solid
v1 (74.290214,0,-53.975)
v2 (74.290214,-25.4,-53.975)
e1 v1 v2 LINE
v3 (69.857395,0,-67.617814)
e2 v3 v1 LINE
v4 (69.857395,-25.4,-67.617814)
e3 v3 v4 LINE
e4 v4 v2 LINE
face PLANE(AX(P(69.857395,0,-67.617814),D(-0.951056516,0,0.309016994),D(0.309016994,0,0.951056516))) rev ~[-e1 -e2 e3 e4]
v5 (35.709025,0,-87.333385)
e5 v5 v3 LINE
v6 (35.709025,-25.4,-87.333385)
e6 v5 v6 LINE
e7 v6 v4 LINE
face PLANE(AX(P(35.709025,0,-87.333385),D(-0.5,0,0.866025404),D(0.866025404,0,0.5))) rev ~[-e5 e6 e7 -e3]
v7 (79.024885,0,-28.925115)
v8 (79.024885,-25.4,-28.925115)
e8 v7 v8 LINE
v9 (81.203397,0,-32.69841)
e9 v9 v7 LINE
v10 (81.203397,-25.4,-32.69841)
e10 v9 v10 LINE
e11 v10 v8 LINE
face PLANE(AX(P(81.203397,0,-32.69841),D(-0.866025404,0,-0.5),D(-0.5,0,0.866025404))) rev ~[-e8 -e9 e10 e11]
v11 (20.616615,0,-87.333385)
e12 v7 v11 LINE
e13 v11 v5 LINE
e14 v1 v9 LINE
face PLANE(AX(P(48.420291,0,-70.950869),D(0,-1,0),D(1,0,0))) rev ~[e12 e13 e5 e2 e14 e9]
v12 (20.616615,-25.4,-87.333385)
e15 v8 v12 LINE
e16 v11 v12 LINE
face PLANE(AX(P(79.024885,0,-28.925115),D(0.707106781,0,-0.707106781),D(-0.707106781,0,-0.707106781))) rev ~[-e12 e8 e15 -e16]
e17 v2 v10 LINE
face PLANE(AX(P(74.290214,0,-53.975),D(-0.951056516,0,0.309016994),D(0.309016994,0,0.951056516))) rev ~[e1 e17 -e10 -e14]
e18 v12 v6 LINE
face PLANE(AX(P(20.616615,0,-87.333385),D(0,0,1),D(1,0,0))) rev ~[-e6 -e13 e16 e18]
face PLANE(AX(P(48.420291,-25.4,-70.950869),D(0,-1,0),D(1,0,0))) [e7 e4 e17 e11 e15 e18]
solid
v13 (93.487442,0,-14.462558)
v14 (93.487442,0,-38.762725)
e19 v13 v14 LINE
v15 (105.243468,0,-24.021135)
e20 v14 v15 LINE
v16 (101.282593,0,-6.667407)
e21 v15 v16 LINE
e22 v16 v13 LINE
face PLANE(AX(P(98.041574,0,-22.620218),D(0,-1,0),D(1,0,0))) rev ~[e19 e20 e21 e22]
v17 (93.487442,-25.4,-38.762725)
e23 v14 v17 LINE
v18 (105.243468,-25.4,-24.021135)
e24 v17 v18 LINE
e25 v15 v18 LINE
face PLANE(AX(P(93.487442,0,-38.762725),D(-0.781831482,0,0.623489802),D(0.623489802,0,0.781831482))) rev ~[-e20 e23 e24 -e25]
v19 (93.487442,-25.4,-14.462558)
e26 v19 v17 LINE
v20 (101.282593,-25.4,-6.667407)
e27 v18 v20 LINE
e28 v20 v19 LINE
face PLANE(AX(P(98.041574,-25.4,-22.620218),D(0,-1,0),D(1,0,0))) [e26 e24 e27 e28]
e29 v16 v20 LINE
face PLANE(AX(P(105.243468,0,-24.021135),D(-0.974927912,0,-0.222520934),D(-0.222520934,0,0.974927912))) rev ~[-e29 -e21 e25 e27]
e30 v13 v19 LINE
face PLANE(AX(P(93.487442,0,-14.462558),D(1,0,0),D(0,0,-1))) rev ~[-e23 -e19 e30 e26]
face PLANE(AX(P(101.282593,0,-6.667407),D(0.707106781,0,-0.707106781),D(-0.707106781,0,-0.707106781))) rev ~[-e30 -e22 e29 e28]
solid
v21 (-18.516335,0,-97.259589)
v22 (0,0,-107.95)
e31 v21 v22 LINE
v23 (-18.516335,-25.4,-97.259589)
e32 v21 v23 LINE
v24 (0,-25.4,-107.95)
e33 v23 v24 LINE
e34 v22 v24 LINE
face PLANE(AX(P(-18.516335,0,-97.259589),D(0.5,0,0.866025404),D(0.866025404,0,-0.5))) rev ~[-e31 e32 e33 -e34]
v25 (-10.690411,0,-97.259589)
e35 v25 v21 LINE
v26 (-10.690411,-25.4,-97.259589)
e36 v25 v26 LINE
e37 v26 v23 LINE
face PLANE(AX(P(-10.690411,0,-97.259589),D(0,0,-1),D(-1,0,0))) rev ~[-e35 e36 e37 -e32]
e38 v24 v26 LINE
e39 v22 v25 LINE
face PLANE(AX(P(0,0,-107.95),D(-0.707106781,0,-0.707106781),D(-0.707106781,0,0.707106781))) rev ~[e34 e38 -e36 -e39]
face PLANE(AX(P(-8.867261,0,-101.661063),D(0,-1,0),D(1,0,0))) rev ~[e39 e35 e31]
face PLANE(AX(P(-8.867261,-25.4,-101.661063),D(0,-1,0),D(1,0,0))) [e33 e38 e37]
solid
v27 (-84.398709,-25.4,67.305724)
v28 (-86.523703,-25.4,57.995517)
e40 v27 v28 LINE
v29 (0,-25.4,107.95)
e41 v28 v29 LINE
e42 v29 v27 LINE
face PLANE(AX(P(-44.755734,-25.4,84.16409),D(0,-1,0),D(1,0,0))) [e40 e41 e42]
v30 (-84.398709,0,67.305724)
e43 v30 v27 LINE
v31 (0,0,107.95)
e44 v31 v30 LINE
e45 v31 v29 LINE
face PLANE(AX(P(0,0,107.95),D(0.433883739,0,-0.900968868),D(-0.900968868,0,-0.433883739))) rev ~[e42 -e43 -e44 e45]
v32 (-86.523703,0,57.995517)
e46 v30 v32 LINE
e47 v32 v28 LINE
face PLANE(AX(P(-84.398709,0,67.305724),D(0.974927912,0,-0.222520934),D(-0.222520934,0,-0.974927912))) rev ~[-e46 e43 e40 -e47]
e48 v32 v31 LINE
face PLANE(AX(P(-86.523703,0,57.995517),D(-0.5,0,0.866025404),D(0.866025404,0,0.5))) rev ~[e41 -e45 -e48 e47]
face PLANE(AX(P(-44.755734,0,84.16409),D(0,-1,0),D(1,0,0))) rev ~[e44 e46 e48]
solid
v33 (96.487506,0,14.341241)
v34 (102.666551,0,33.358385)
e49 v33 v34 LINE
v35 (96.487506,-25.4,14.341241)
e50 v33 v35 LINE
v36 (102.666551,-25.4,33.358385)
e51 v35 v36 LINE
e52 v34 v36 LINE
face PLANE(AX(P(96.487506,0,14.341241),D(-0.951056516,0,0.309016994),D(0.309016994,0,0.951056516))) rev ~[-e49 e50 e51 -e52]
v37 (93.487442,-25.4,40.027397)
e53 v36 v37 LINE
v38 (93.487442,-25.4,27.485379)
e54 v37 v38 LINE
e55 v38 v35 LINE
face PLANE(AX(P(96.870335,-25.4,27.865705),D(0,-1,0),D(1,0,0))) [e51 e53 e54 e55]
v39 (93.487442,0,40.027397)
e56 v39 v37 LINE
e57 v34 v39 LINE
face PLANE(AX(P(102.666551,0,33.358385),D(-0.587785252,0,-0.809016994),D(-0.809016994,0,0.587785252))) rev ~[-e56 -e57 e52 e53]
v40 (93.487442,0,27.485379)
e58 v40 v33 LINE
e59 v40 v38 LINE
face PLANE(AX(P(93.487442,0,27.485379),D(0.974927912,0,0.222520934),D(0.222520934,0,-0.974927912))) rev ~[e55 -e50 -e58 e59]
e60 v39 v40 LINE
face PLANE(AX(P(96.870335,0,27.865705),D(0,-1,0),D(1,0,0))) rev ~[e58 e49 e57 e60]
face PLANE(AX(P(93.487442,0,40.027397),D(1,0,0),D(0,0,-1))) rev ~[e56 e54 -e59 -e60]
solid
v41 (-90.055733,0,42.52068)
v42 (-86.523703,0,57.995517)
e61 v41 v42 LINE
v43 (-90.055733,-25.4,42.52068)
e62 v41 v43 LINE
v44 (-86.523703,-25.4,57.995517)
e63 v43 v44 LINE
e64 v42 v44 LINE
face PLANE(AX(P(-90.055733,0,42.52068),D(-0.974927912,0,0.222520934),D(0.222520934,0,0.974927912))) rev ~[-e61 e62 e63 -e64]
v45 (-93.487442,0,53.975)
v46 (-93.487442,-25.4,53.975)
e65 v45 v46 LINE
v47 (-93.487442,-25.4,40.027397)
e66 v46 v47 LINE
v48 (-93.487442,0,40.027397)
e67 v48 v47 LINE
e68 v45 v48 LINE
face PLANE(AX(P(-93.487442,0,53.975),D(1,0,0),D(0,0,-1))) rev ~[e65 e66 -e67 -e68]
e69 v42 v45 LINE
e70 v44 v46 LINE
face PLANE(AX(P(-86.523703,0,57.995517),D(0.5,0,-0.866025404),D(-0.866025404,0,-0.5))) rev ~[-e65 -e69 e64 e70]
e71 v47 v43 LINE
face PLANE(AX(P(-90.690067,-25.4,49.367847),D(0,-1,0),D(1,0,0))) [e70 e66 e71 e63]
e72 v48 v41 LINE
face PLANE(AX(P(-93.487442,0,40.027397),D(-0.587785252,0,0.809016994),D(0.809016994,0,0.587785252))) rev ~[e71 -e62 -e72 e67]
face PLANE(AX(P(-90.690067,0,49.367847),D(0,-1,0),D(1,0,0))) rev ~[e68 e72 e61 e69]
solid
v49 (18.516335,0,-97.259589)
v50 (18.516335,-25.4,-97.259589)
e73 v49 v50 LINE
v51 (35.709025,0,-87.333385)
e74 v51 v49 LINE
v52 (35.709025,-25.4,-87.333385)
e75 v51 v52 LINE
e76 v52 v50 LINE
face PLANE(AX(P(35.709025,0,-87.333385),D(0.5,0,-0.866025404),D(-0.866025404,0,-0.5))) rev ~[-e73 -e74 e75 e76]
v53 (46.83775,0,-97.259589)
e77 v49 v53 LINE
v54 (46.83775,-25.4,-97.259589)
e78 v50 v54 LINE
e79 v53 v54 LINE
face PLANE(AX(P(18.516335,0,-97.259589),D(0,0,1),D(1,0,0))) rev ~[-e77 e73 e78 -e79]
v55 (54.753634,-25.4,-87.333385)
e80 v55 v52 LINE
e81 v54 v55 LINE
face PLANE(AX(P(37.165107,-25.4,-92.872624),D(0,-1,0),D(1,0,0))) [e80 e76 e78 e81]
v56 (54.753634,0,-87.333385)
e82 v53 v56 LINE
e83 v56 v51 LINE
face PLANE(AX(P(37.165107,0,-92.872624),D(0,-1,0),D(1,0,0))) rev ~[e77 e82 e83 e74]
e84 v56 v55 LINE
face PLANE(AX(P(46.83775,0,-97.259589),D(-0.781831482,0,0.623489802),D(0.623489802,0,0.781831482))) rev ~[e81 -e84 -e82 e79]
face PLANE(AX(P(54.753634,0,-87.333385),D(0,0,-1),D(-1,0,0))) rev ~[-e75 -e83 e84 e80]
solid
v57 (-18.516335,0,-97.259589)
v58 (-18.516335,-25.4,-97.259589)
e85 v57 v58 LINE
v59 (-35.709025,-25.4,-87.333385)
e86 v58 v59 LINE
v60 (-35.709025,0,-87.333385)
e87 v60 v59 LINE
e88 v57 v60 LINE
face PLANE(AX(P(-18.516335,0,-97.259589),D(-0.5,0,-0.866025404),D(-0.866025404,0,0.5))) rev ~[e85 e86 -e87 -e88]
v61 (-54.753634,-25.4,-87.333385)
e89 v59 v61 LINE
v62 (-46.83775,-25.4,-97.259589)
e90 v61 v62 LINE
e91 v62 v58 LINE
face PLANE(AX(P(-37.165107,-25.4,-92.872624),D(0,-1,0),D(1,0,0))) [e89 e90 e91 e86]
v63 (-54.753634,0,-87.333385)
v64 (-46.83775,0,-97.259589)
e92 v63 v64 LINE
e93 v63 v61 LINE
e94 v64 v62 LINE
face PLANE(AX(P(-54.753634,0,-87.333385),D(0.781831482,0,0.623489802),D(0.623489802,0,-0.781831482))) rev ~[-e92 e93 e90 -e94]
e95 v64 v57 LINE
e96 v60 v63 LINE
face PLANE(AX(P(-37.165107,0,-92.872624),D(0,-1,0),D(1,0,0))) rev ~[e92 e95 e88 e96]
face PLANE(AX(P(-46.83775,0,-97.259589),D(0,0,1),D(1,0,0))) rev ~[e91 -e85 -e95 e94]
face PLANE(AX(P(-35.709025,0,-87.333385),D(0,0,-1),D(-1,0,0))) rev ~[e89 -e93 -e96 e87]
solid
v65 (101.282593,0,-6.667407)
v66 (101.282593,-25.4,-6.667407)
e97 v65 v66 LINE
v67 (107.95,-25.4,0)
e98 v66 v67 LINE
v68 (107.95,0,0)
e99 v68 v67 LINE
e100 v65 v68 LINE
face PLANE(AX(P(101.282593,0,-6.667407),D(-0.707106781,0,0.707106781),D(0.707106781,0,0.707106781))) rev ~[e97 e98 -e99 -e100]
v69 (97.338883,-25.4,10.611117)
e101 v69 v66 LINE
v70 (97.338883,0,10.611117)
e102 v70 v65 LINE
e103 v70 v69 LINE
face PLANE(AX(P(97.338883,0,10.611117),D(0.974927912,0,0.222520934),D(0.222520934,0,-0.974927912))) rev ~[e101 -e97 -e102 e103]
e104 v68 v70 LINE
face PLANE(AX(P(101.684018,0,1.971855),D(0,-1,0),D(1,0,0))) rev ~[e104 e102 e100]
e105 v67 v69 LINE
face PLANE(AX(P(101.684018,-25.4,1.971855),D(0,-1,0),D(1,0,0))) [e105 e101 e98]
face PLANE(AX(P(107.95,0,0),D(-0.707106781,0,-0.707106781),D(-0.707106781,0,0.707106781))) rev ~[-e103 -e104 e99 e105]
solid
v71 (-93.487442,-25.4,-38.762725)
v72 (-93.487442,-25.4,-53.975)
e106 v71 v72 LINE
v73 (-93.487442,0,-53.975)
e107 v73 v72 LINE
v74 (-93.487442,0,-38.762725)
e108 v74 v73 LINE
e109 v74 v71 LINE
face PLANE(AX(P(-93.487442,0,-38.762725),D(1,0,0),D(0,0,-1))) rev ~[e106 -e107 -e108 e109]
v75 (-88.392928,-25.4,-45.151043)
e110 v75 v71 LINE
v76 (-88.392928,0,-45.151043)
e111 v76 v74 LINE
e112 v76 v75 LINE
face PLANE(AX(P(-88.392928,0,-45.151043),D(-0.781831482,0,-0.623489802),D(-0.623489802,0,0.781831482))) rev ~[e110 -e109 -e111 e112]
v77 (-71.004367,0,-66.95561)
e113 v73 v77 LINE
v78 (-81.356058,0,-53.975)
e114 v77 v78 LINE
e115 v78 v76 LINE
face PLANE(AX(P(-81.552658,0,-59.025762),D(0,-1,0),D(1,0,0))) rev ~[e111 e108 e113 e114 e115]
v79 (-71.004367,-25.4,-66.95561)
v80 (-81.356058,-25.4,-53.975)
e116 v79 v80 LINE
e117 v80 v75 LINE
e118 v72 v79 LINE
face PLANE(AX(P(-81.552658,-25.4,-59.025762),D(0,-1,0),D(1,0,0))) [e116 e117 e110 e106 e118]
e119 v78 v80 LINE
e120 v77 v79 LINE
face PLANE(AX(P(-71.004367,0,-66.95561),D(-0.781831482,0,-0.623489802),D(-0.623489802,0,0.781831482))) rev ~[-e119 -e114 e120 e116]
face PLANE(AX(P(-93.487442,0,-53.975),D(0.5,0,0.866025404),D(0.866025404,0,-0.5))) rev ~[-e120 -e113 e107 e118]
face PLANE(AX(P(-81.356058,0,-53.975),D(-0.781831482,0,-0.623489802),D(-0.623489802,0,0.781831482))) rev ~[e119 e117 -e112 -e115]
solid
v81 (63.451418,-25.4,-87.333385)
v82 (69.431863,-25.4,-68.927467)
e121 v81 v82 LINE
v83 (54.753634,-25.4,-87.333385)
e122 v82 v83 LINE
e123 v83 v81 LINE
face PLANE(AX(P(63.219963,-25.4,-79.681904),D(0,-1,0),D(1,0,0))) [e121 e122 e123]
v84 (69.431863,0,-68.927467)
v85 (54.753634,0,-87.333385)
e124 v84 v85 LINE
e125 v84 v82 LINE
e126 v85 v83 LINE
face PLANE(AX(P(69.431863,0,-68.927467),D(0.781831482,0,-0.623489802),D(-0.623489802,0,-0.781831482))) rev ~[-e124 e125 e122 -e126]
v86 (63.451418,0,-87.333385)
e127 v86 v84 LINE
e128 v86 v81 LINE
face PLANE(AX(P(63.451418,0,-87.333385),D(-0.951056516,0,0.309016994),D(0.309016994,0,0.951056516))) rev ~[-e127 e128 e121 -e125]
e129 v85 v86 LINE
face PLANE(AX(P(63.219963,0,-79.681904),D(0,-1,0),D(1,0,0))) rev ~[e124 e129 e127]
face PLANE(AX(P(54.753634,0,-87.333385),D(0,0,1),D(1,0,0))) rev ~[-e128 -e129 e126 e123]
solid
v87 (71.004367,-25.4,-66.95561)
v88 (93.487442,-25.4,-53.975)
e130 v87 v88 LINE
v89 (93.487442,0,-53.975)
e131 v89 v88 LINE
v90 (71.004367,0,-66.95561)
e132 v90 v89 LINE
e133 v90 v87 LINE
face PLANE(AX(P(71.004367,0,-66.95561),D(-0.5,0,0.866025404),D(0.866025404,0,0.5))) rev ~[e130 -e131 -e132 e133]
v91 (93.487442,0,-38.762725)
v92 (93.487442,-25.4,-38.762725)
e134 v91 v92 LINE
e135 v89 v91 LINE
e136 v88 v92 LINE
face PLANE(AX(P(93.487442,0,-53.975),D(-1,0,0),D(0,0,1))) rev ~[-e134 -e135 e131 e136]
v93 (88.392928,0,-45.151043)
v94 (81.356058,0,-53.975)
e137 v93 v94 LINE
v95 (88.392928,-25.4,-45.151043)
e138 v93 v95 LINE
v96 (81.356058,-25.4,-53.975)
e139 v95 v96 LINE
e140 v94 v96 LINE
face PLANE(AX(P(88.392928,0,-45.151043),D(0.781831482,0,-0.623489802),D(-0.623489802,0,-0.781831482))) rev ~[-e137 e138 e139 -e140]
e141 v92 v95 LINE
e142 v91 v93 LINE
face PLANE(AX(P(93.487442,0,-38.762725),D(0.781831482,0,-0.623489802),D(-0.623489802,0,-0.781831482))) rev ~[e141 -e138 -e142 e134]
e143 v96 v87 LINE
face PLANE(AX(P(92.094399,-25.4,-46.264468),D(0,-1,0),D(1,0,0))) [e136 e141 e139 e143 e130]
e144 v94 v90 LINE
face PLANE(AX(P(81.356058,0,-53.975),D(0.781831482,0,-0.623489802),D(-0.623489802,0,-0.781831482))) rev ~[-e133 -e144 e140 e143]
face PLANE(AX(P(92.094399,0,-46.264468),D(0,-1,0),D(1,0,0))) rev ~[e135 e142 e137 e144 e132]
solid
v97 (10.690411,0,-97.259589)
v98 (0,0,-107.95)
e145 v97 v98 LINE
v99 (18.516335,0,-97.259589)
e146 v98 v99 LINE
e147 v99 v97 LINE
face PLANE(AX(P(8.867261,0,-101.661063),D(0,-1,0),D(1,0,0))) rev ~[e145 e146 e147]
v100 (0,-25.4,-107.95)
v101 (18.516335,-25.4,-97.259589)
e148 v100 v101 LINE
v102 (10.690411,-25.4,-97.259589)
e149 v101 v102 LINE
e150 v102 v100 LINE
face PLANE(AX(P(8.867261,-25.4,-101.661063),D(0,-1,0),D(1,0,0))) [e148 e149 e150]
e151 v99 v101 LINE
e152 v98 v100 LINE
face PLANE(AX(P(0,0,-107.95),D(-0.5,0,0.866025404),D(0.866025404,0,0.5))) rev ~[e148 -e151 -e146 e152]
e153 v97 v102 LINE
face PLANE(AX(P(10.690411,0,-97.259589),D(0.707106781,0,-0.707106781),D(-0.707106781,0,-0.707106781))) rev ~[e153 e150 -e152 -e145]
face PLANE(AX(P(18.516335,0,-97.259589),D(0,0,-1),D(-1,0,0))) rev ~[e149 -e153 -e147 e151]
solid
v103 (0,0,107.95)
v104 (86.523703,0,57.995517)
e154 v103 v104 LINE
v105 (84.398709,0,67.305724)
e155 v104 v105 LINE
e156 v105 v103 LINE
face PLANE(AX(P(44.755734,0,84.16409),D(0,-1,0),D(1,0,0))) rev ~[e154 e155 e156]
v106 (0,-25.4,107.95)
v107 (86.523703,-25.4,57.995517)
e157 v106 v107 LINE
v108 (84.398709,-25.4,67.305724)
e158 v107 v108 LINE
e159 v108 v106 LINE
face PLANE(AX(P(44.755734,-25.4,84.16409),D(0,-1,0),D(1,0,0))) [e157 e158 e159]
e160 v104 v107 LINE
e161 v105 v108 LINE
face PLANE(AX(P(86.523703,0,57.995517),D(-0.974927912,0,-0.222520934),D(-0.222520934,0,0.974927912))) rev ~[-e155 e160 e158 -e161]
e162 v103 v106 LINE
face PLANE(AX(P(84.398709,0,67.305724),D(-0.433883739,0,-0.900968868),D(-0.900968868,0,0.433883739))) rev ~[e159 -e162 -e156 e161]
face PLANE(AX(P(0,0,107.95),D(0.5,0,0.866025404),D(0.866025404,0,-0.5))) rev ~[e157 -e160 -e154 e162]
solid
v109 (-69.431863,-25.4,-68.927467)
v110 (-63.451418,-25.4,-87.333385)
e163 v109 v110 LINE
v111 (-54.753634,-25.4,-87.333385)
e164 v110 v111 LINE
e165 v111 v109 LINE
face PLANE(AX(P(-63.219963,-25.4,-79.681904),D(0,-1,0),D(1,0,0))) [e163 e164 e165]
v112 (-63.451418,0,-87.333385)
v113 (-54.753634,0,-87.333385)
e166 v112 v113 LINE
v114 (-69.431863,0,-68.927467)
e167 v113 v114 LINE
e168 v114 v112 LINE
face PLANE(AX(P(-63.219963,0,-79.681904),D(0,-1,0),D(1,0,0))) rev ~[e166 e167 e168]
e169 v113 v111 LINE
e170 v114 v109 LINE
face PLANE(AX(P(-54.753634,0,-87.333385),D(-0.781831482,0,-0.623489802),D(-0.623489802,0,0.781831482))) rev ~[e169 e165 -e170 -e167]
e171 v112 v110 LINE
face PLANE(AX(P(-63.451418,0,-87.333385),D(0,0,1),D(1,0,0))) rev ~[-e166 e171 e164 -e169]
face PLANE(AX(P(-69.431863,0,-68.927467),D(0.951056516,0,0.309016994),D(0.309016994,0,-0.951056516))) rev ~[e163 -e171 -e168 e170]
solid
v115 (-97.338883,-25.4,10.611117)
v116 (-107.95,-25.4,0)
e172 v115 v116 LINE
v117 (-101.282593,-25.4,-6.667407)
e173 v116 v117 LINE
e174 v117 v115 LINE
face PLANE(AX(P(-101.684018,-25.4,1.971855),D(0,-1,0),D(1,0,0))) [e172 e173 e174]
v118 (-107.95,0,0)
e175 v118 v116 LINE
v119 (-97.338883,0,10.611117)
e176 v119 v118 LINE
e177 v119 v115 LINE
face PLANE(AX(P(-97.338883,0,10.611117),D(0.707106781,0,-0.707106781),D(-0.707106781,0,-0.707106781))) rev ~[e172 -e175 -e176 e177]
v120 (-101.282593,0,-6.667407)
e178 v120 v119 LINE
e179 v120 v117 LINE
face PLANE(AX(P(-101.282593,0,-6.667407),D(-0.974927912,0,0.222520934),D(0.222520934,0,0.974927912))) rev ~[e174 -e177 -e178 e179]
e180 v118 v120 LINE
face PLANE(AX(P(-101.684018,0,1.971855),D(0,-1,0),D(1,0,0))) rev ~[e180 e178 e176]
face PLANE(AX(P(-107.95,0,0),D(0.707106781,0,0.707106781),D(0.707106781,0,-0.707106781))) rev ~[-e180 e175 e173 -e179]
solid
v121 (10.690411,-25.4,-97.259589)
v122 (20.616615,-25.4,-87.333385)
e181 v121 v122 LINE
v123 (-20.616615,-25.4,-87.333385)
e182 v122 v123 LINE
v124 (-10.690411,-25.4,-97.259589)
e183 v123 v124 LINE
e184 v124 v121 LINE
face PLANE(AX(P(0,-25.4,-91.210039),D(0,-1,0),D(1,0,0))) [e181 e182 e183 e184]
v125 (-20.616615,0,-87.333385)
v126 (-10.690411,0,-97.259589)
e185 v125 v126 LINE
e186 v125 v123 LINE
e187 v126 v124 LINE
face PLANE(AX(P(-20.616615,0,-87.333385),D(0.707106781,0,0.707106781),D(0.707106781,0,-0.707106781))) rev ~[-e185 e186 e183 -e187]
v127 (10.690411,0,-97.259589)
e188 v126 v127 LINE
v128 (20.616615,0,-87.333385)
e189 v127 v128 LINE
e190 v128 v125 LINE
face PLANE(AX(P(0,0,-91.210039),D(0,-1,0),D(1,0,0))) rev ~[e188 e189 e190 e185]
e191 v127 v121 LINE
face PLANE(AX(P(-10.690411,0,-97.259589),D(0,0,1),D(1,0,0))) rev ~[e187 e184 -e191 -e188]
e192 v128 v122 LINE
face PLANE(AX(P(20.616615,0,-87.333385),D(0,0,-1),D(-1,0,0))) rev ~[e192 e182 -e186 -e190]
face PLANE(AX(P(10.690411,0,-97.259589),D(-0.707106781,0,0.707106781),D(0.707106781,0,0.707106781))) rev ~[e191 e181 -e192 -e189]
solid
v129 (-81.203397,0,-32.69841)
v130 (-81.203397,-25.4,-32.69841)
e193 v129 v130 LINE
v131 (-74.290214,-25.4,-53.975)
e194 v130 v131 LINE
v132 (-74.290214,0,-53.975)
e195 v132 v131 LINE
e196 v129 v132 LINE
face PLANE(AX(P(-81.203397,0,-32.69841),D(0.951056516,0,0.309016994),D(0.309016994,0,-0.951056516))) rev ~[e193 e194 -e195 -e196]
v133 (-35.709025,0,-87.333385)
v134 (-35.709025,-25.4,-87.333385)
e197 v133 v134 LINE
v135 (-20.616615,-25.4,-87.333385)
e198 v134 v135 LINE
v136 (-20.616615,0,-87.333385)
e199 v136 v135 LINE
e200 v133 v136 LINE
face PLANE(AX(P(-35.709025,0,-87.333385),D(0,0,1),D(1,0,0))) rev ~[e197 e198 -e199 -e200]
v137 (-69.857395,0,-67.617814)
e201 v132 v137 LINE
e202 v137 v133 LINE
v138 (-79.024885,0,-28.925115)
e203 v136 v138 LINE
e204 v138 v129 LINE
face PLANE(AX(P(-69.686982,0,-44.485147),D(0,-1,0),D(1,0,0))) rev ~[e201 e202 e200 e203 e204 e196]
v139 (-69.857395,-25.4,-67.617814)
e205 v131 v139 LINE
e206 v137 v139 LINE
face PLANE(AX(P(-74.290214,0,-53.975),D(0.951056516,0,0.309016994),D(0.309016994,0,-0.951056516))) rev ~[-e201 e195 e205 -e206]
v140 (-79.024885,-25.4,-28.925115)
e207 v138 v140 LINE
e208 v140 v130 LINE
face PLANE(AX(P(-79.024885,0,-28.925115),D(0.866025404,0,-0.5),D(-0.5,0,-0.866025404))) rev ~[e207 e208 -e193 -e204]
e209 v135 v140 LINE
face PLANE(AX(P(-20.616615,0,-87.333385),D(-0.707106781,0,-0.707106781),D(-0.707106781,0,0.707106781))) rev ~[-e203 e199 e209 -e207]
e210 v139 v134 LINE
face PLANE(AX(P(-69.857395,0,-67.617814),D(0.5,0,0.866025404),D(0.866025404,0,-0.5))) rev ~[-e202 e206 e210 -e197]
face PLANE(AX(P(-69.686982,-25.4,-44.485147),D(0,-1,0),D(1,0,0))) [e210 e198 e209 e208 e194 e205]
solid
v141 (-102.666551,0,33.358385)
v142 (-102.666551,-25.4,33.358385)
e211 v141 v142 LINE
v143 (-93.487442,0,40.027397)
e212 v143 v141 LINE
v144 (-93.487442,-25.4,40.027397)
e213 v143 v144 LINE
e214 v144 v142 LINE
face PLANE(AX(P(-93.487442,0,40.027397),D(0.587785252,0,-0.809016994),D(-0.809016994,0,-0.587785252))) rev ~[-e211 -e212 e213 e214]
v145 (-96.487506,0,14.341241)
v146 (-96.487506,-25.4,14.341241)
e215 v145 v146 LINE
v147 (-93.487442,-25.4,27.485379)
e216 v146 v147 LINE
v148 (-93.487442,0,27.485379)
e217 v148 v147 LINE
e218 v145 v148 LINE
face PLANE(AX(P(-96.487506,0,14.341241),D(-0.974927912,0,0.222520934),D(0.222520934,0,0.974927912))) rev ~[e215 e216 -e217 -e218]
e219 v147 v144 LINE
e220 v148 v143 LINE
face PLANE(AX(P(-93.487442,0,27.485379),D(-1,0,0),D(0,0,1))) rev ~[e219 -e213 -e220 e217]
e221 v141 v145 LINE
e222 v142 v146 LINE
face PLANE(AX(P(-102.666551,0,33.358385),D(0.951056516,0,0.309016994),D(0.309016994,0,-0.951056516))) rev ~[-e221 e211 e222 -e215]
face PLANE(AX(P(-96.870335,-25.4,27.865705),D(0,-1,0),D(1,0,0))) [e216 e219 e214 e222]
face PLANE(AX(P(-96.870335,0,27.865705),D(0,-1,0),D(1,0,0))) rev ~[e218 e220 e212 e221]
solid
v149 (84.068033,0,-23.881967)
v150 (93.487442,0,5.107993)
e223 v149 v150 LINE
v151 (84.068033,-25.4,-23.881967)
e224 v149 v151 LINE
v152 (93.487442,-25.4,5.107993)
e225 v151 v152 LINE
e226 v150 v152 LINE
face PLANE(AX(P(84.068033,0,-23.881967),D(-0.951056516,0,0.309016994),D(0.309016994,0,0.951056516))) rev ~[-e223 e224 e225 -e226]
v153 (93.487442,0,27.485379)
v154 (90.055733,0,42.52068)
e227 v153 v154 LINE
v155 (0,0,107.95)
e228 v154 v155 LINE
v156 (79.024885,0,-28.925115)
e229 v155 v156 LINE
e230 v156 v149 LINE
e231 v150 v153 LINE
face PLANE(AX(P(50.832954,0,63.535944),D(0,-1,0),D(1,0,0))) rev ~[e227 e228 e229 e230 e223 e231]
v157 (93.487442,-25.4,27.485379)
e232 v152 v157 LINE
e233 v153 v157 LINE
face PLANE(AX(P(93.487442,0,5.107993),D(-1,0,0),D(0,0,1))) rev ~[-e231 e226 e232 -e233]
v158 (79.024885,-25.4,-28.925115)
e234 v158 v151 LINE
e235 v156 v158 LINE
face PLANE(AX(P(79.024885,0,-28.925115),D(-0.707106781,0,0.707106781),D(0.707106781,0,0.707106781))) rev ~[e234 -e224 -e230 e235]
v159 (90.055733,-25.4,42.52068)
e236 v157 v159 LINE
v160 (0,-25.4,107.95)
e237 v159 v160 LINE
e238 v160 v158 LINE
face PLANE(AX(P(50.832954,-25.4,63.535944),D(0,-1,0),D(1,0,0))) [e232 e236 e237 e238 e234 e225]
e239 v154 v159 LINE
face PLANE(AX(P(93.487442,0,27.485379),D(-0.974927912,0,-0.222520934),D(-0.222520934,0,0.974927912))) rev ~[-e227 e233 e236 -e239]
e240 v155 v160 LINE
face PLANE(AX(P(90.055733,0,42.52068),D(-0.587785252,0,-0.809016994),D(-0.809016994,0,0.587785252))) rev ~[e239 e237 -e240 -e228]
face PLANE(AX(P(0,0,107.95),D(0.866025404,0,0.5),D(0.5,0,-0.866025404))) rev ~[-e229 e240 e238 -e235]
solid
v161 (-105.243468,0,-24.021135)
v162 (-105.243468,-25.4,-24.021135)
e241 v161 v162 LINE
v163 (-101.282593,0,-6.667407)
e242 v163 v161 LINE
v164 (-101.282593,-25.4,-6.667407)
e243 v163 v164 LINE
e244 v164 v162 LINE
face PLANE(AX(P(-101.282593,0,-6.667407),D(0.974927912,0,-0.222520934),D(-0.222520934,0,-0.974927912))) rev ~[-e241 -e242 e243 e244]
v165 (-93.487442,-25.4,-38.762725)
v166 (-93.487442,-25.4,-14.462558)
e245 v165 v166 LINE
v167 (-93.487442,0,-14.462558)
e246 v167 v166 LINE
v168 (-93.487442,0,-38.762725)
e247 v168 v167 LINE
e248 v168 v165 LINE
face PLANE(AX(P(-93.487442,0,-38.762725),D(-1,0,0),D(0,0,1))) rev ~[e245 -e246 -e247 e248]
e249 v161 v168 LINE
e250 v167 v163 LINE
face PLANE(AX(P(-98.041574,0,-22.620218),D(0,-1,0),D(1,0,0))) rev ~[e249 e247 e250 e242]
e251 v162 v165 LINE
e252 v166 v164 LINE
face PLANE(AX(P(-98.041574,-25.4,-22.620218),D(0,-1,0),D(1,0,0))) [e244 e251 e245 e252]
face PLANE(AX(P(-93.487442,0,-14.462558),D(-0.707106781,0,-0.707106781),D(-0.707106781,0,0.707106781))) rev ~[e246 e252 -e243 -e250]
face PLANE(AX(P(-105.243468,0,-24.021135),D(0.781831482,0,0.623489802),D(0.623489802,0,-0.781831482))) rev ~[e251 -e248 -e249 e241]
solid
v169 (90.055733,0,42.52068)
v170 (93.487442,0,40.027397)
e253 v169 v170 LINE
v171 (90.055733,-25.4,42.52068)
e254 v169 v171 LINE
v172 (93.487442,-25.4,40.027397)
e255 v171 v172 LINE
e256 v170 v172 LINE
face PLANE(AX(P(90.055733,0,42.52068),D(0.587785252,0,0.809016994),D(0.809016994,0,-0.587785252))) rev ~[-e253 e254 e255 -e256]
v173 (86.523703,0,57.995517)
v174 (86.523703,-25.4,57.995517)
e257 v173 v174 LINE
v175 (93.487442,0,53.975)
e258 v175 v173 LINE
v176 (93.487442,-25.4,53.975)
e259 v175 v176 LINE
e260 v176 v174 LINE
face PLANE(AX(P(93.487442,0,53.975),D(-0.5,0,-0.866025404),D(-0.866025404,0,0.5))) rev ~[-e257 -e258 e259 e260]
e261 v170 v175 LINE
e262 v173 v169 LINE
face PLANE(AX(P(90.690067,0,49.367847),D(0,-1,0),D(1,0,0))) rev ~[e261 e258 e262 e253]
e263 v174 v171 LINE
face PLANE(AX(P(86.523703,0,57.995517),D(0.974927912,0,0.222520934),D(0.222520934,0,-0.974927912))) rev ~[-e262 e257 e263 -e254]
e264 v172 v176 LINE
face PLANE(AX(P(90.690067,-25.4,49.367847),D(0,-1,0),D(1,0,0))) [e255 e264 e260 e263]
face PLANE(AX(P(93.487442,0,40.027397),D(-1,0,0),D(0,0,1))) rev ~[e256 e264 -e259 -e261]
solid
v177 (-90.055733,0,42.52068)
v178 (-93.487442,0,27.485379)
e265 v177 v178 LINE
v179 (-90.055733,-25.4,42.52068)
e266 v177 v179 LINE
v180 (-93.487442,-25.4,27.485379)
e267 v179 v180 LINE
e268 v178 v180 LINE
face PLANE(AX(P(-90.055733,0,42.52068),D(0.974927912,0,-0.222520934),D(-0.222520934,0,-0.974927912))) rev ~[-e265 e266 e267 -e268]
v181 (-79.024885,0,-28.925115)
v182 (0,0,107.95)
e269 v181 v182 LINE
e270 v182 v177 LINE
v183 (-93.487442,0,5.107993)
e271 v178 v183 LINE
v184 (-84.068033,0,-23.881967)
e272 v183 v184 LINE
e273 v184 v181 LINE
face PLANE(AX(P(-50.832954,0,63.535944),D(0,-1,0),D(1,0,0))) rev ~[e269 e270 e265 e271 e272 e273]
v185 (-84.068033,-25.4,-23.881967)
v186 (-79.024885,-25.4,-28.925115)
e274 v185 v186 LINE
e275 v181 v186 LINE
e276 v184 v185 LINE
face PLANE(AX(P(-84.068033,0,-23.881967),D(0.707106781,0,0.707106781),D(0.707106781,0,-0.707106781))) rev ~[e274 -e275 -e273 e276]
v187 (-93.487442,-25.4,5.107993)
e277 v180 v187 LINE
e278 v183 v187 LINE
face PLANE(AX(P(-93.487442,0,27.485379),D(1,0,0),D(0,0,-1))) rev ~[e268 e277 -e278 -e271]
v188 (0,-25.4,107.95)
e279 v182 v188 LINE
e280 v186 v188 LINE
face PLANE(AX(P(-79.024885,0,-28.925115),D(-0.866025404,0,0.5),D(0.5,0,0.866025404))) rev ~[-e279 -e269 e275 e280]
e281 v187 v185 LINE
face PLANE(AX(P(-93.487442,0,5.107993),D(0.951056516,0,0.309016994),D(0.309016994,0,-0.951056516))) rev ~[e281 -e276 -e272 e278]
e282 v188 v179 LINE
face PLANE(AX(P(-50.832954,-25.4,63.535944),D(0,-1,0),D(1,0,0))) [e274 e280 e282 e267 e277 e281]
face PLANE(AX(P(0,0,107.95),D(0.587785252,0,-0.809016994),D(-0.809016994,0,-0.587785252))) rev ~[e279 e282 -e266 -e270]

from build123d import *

# Parameters (mm, degrees)
F1_DEPTH = 25.4


with BuildPart() as f1:
    # F0 (on Front) → F1 (new body)
    with BuildSketch(Plane.XZ):
        Polygon((86.5237025398, 57.9955170473), (84.3987085324, 67.3057241107), (0, 107.95), align=None)
    extrude(amount=F1_DEPTH)


with BuildPart() as f1b:
    # F0 (on Front) → F1, piece 2 (new body)
    with BuildSketch(Plane.XZ):
        Polygon((101.2825929907, -6.6674070093), (107.95, 0), (97.3388825316, 10.6111174684), align=None)
    extrude(amount=F1_DEPTH)


with BuildPart() as f1c:
    # F0 (on Front) → F1, piece 3 (new body)
    with BuildSketch(Plane.XZ):
        Polygon((88.3929284935, -45.1510431805), (93.4874423385, -53.975), (93.4874423385, -38.7627248791), align=None)
        Polygon((81.3560577453, -53.975), (93.4874423385, -53.975), (88.3929284935, -45.1510431805), align=None)
        Polygon((71.0043670346, -66.9556095789), (93.4874423385, -53.975), (81.3560577453, -53.975), align=None)
    extrude(amount=F1_DEPTH)


with BuildPart() as f1d:
    # F0 (on Front) → F1, piece 4 (new body)
    with BuildSketch(Plane.XZ):
        Polygon((54.7536337763, -87.3333845428), (63.451417985, -87.3333845428), (69.4318630581, -68.9274671963), align=None)
    extrude(amount=F1_DEPTH)


with BuildPart() as f1e:
    # F0 (on Front) → F1, piece 5 (new body)
    with BuildSketch(Plane.XZ):
        Polygon((10.6904107099, -97.2595892901), (0, -107.95), (18.5163345034, -97.2595892901), align=None)
    extrude(amount=F1_DEPTH)


with BuildPart() as f1f:
    # F0 (on Front) → F1, piece 6 (new body)
    with BuildSketch(Plane.XZ):
        Polygon((-18.5163345034, -97.2595892901), (0, -107.95), (-10.6904107099, -97.2595892901), align=None)
    extrude(amount=F1_DEPTH)


with BuildPart() as f1g:
    # F0 (on Front) → F1, piece 7 (new body)
    with BuildSketch(Plane.XZ):
        Polygon((-69.4318630581, -68.9274671963), (-63.451417985, -87.3333845428), (-54.7536337763, -87.3333845428), align=None)
    extrude(amount=F1_DEPTH)


with BuildPart() as f1h:
    # F0 (on Front) → F1, piece 8 (new body)
    with BuildSketch(Plane.XZ):
        Polygon((-71.0043670346, -66.9556095789), (-81.3560577453, -53.975), (-93.4874423385, -53.975), align=None)
        Polygon((-81.3560577453, -53.975), (-88.3929284935, -45.1510431805), (-93.4874423385, -53.975), align=None)
        Polygon((-93.4874423385, -53.975), (-88.3929284935, -45.1510431805), (-93.4874423385, -38.7627248791), align=None)
    extrude(amount=F1_DEPTH)


with BuildPart() as f1i:
    # F0 (on Front) → F1, piece 9 (new body)
    with BuildSketch(Plane.XZ):
        Polygon((-101.2825929907, -6.6674070093), (-97.3388825316, 10.6111174684), (-107.95, 0), align=None)
    extrude(amount=F1_DEPTH)


with BuildPart() as f1j:
    # F0 (on Front) → F1, piece 10 (new body)
    with BuildSketch(Plane.XZ):
        Polygon((-86.5237025398, 57.9955170473), (0, 107.95), (-84.3987085324, 67.3057241107), align=None)
    extrude(amount=F1_DEPTH)


with BuildPart() as f1k:
    # F0 (on Front) → F1, piece 11 (new body)
    with BuildSketch(Plane.XZ):
        Polygon((93.4874423385, 40.0273973066), (93.4874423385, 53.975), (86.5237025398, 57.9955170473), (90.0557331124, 42.5206800031), align=None)
    extrude(amount=F1_DEPTH)


with BuildPart() as f1l:
    # F0 (on Front) → F1, piece 12 (new body)
    with BuildSketch(Plane.XZ):
        Polygon((93.4874423385, 14.4625576615), (93.4874423385, 27.4853794967), (90.0557331124, 42.5206800031), (0, 107.95), align=None)
        Polygon((84.0680334422, -23.8819665578), (93.4874423385, 5.1079931324), (93.4874423385, 14.4625576615), (0, 107.95), (79.0248846771, -28.9251153229), align=None)
    extrude(amount=F1_DEPTH)


with BuildPart() as f1m:
    # F0 (on Front) → F1, piece 13 (new body)
    with BuildSketch(Plane.XZ):
        Polygon((96.4875062817, 14.3412405407), (102.6665509341, 33.3583845428), (93.4874423385, 40.0273973066), (93.4874423385, 27.4853794967), align=None)
    extrude(amount=F1_DEPTH)


with BuildPart() as f1n:
    # F0 (on Front) → F1, piece 14 (new body)
    with BuildSketch(Plane.XZ):
        Polygon((93.4874423385, -38.7627248791), (105.24346812, -24.0211348206), (101.2825929907, -6.6674070093), (93.4874423385, -14.4625576615), align=None)
    extrude(amount=F1_DEPTH)


with BuildPart() as f1o:
    # F0 (on Front) → F1, piece 15 (new body)
    with BuildSketch(Plane.XZ):
        Polygon((18.5163345034, -97.2595892901), (46.8377496377, -97.2595892901), (54.7536337763, -87.3333845428), (35.709025452, -87.3333845428), align=None)
    extrude(amount=F1_DEPTH)


with BuildPart() as f1p:
    # F0 (on Front) → F1, piece 16 (new body)
    with BuildSketch(Plane.XZ):
        Polygon((-54.7536337763, -87.3333845428), (-46.8377496377, -97.2595892901), (-18.5163345034, -97.2595892901), (-35.709025452, -87.3333845428), align=None)
    extrude(amount=F1_DEPTH)


with BuildPart() as f1q:
    # F0 (on Front) → F1, piece 17 (new body)
    with BuildSketch(Plane.XZ):
        Polygon((-93.4874423385, -38.7627248791), (-93.4874423385, -14.4625576615), (-101.2825929907, -6.6674070093), (-105.24346812, -24.0211348206), align=None)
    extrude(amount=F1_DEPTH)


with BuildPart() as f1r:
    # F0 (on Front) → F1, piece 18 (new body)
    with BuildSketch(Plane.XZ):
        Polygon((-96.4875062817, 14.3412405407), (-93.4874423385, 27.4853794967), (-93.4874423385, 40.0273973066), (-102.6665509341, 33.3583845428), align=None)
    extrude(amount=F1_DEPTH)


with BuildPart() as f1s:
    # F0 (on Front) → F1, piece 19 (new body)
    with BuildSketch(Plane.XZ):
        Polygon((-93.4874423385, 14.4625576615), (0, 107.95), (-90.0557331124, 42.5206800031), (-93.4874423385, 27.4853794967), align=None)
        Polygon((-79.0248846771, -28.9251153229), (0, 107.95), (-93.4874423385, 14.4625576615), (-93.4874423385, 5.1079931324), (-84.0680334422, -23.8819665578), align=None)
    extrude(amount=F1_DEPTH)


with BuildPart() as f1t:
    # F0 (on Front) → F1, piece 20 (new body)
    with BuildSketch(Plane.XZ):
        Polygon((-90.0557331124, 42.5206800031), (-86.5237025398, 57.9955170473), (-93.4874423385, 53.975), (-93.4874423385, 40.0273973066), align=None)
    extrude(amount=F1_DEPTH)


with BuildPart() as f1u:
    # F0 (on Front) → F1, piece 21 (new body)
    with BuildSketch(Plane.XZ):
        Polygon((-53.975, -53.975), (-79.0248846771, -28.9251153229), (-81.2033973378, -32.6984099363), (-74.2902141574, -53.975), align=None)
        Polygon((-20.6166154572, -87.3333845428), (-53.975, -53.975), (-74.2902141574, -53.975), (-69.8573951409, -67.6178141105), (-35.709025452, -87.3333845428), align=None)
    extrude(amount=F1_DEPTH)


with BuildPart() as f1v:
    # F0 (on Front) → F1, piece 22 (new body)
    with BuildSketch(Plane.XZ):
        Polygon((35.709025452, -87.3333845428), (69.8573951409, -67.6178141105), (74.2902141574, -53.975), (53.975, -53.975), (20.6166154572, -87.3333845428), align=None)
        Polygon((74.2902141574, -53.975), (81.2033973378, -32.6984099363), (79.0248846771, -28.9251153229), (53.975, -53.975), align=None)
    extrude(amount=F1_DEPTH)


with BuildPart() as f1w:
    # F0 (on Front) → F1, piece 23 (new body)
    with BuildSketch(Plane.XZ):
        Polygon((-10.6904107099, -97.2595892901), (10.6904107099, -97.2595892901), (20.6166154572, -87.3333845428), (-20.6166154572, -87.3333845428), align=None)
    extrude(amount=F1_DEPTH)


solid = Compound([f1.part, f1b.part, f1c.part, f1d.part, f1e.part, f1f.part, f1g.part, f1h.part, f1i.part, f1j.part, f1k.part, f1l.part, f1m.part, f1n.part, f1o.part, f1p.part, f1q.part, f1r.part, f1s.part, f1t.part, f1u.part, f1v.part, f1w.part])
